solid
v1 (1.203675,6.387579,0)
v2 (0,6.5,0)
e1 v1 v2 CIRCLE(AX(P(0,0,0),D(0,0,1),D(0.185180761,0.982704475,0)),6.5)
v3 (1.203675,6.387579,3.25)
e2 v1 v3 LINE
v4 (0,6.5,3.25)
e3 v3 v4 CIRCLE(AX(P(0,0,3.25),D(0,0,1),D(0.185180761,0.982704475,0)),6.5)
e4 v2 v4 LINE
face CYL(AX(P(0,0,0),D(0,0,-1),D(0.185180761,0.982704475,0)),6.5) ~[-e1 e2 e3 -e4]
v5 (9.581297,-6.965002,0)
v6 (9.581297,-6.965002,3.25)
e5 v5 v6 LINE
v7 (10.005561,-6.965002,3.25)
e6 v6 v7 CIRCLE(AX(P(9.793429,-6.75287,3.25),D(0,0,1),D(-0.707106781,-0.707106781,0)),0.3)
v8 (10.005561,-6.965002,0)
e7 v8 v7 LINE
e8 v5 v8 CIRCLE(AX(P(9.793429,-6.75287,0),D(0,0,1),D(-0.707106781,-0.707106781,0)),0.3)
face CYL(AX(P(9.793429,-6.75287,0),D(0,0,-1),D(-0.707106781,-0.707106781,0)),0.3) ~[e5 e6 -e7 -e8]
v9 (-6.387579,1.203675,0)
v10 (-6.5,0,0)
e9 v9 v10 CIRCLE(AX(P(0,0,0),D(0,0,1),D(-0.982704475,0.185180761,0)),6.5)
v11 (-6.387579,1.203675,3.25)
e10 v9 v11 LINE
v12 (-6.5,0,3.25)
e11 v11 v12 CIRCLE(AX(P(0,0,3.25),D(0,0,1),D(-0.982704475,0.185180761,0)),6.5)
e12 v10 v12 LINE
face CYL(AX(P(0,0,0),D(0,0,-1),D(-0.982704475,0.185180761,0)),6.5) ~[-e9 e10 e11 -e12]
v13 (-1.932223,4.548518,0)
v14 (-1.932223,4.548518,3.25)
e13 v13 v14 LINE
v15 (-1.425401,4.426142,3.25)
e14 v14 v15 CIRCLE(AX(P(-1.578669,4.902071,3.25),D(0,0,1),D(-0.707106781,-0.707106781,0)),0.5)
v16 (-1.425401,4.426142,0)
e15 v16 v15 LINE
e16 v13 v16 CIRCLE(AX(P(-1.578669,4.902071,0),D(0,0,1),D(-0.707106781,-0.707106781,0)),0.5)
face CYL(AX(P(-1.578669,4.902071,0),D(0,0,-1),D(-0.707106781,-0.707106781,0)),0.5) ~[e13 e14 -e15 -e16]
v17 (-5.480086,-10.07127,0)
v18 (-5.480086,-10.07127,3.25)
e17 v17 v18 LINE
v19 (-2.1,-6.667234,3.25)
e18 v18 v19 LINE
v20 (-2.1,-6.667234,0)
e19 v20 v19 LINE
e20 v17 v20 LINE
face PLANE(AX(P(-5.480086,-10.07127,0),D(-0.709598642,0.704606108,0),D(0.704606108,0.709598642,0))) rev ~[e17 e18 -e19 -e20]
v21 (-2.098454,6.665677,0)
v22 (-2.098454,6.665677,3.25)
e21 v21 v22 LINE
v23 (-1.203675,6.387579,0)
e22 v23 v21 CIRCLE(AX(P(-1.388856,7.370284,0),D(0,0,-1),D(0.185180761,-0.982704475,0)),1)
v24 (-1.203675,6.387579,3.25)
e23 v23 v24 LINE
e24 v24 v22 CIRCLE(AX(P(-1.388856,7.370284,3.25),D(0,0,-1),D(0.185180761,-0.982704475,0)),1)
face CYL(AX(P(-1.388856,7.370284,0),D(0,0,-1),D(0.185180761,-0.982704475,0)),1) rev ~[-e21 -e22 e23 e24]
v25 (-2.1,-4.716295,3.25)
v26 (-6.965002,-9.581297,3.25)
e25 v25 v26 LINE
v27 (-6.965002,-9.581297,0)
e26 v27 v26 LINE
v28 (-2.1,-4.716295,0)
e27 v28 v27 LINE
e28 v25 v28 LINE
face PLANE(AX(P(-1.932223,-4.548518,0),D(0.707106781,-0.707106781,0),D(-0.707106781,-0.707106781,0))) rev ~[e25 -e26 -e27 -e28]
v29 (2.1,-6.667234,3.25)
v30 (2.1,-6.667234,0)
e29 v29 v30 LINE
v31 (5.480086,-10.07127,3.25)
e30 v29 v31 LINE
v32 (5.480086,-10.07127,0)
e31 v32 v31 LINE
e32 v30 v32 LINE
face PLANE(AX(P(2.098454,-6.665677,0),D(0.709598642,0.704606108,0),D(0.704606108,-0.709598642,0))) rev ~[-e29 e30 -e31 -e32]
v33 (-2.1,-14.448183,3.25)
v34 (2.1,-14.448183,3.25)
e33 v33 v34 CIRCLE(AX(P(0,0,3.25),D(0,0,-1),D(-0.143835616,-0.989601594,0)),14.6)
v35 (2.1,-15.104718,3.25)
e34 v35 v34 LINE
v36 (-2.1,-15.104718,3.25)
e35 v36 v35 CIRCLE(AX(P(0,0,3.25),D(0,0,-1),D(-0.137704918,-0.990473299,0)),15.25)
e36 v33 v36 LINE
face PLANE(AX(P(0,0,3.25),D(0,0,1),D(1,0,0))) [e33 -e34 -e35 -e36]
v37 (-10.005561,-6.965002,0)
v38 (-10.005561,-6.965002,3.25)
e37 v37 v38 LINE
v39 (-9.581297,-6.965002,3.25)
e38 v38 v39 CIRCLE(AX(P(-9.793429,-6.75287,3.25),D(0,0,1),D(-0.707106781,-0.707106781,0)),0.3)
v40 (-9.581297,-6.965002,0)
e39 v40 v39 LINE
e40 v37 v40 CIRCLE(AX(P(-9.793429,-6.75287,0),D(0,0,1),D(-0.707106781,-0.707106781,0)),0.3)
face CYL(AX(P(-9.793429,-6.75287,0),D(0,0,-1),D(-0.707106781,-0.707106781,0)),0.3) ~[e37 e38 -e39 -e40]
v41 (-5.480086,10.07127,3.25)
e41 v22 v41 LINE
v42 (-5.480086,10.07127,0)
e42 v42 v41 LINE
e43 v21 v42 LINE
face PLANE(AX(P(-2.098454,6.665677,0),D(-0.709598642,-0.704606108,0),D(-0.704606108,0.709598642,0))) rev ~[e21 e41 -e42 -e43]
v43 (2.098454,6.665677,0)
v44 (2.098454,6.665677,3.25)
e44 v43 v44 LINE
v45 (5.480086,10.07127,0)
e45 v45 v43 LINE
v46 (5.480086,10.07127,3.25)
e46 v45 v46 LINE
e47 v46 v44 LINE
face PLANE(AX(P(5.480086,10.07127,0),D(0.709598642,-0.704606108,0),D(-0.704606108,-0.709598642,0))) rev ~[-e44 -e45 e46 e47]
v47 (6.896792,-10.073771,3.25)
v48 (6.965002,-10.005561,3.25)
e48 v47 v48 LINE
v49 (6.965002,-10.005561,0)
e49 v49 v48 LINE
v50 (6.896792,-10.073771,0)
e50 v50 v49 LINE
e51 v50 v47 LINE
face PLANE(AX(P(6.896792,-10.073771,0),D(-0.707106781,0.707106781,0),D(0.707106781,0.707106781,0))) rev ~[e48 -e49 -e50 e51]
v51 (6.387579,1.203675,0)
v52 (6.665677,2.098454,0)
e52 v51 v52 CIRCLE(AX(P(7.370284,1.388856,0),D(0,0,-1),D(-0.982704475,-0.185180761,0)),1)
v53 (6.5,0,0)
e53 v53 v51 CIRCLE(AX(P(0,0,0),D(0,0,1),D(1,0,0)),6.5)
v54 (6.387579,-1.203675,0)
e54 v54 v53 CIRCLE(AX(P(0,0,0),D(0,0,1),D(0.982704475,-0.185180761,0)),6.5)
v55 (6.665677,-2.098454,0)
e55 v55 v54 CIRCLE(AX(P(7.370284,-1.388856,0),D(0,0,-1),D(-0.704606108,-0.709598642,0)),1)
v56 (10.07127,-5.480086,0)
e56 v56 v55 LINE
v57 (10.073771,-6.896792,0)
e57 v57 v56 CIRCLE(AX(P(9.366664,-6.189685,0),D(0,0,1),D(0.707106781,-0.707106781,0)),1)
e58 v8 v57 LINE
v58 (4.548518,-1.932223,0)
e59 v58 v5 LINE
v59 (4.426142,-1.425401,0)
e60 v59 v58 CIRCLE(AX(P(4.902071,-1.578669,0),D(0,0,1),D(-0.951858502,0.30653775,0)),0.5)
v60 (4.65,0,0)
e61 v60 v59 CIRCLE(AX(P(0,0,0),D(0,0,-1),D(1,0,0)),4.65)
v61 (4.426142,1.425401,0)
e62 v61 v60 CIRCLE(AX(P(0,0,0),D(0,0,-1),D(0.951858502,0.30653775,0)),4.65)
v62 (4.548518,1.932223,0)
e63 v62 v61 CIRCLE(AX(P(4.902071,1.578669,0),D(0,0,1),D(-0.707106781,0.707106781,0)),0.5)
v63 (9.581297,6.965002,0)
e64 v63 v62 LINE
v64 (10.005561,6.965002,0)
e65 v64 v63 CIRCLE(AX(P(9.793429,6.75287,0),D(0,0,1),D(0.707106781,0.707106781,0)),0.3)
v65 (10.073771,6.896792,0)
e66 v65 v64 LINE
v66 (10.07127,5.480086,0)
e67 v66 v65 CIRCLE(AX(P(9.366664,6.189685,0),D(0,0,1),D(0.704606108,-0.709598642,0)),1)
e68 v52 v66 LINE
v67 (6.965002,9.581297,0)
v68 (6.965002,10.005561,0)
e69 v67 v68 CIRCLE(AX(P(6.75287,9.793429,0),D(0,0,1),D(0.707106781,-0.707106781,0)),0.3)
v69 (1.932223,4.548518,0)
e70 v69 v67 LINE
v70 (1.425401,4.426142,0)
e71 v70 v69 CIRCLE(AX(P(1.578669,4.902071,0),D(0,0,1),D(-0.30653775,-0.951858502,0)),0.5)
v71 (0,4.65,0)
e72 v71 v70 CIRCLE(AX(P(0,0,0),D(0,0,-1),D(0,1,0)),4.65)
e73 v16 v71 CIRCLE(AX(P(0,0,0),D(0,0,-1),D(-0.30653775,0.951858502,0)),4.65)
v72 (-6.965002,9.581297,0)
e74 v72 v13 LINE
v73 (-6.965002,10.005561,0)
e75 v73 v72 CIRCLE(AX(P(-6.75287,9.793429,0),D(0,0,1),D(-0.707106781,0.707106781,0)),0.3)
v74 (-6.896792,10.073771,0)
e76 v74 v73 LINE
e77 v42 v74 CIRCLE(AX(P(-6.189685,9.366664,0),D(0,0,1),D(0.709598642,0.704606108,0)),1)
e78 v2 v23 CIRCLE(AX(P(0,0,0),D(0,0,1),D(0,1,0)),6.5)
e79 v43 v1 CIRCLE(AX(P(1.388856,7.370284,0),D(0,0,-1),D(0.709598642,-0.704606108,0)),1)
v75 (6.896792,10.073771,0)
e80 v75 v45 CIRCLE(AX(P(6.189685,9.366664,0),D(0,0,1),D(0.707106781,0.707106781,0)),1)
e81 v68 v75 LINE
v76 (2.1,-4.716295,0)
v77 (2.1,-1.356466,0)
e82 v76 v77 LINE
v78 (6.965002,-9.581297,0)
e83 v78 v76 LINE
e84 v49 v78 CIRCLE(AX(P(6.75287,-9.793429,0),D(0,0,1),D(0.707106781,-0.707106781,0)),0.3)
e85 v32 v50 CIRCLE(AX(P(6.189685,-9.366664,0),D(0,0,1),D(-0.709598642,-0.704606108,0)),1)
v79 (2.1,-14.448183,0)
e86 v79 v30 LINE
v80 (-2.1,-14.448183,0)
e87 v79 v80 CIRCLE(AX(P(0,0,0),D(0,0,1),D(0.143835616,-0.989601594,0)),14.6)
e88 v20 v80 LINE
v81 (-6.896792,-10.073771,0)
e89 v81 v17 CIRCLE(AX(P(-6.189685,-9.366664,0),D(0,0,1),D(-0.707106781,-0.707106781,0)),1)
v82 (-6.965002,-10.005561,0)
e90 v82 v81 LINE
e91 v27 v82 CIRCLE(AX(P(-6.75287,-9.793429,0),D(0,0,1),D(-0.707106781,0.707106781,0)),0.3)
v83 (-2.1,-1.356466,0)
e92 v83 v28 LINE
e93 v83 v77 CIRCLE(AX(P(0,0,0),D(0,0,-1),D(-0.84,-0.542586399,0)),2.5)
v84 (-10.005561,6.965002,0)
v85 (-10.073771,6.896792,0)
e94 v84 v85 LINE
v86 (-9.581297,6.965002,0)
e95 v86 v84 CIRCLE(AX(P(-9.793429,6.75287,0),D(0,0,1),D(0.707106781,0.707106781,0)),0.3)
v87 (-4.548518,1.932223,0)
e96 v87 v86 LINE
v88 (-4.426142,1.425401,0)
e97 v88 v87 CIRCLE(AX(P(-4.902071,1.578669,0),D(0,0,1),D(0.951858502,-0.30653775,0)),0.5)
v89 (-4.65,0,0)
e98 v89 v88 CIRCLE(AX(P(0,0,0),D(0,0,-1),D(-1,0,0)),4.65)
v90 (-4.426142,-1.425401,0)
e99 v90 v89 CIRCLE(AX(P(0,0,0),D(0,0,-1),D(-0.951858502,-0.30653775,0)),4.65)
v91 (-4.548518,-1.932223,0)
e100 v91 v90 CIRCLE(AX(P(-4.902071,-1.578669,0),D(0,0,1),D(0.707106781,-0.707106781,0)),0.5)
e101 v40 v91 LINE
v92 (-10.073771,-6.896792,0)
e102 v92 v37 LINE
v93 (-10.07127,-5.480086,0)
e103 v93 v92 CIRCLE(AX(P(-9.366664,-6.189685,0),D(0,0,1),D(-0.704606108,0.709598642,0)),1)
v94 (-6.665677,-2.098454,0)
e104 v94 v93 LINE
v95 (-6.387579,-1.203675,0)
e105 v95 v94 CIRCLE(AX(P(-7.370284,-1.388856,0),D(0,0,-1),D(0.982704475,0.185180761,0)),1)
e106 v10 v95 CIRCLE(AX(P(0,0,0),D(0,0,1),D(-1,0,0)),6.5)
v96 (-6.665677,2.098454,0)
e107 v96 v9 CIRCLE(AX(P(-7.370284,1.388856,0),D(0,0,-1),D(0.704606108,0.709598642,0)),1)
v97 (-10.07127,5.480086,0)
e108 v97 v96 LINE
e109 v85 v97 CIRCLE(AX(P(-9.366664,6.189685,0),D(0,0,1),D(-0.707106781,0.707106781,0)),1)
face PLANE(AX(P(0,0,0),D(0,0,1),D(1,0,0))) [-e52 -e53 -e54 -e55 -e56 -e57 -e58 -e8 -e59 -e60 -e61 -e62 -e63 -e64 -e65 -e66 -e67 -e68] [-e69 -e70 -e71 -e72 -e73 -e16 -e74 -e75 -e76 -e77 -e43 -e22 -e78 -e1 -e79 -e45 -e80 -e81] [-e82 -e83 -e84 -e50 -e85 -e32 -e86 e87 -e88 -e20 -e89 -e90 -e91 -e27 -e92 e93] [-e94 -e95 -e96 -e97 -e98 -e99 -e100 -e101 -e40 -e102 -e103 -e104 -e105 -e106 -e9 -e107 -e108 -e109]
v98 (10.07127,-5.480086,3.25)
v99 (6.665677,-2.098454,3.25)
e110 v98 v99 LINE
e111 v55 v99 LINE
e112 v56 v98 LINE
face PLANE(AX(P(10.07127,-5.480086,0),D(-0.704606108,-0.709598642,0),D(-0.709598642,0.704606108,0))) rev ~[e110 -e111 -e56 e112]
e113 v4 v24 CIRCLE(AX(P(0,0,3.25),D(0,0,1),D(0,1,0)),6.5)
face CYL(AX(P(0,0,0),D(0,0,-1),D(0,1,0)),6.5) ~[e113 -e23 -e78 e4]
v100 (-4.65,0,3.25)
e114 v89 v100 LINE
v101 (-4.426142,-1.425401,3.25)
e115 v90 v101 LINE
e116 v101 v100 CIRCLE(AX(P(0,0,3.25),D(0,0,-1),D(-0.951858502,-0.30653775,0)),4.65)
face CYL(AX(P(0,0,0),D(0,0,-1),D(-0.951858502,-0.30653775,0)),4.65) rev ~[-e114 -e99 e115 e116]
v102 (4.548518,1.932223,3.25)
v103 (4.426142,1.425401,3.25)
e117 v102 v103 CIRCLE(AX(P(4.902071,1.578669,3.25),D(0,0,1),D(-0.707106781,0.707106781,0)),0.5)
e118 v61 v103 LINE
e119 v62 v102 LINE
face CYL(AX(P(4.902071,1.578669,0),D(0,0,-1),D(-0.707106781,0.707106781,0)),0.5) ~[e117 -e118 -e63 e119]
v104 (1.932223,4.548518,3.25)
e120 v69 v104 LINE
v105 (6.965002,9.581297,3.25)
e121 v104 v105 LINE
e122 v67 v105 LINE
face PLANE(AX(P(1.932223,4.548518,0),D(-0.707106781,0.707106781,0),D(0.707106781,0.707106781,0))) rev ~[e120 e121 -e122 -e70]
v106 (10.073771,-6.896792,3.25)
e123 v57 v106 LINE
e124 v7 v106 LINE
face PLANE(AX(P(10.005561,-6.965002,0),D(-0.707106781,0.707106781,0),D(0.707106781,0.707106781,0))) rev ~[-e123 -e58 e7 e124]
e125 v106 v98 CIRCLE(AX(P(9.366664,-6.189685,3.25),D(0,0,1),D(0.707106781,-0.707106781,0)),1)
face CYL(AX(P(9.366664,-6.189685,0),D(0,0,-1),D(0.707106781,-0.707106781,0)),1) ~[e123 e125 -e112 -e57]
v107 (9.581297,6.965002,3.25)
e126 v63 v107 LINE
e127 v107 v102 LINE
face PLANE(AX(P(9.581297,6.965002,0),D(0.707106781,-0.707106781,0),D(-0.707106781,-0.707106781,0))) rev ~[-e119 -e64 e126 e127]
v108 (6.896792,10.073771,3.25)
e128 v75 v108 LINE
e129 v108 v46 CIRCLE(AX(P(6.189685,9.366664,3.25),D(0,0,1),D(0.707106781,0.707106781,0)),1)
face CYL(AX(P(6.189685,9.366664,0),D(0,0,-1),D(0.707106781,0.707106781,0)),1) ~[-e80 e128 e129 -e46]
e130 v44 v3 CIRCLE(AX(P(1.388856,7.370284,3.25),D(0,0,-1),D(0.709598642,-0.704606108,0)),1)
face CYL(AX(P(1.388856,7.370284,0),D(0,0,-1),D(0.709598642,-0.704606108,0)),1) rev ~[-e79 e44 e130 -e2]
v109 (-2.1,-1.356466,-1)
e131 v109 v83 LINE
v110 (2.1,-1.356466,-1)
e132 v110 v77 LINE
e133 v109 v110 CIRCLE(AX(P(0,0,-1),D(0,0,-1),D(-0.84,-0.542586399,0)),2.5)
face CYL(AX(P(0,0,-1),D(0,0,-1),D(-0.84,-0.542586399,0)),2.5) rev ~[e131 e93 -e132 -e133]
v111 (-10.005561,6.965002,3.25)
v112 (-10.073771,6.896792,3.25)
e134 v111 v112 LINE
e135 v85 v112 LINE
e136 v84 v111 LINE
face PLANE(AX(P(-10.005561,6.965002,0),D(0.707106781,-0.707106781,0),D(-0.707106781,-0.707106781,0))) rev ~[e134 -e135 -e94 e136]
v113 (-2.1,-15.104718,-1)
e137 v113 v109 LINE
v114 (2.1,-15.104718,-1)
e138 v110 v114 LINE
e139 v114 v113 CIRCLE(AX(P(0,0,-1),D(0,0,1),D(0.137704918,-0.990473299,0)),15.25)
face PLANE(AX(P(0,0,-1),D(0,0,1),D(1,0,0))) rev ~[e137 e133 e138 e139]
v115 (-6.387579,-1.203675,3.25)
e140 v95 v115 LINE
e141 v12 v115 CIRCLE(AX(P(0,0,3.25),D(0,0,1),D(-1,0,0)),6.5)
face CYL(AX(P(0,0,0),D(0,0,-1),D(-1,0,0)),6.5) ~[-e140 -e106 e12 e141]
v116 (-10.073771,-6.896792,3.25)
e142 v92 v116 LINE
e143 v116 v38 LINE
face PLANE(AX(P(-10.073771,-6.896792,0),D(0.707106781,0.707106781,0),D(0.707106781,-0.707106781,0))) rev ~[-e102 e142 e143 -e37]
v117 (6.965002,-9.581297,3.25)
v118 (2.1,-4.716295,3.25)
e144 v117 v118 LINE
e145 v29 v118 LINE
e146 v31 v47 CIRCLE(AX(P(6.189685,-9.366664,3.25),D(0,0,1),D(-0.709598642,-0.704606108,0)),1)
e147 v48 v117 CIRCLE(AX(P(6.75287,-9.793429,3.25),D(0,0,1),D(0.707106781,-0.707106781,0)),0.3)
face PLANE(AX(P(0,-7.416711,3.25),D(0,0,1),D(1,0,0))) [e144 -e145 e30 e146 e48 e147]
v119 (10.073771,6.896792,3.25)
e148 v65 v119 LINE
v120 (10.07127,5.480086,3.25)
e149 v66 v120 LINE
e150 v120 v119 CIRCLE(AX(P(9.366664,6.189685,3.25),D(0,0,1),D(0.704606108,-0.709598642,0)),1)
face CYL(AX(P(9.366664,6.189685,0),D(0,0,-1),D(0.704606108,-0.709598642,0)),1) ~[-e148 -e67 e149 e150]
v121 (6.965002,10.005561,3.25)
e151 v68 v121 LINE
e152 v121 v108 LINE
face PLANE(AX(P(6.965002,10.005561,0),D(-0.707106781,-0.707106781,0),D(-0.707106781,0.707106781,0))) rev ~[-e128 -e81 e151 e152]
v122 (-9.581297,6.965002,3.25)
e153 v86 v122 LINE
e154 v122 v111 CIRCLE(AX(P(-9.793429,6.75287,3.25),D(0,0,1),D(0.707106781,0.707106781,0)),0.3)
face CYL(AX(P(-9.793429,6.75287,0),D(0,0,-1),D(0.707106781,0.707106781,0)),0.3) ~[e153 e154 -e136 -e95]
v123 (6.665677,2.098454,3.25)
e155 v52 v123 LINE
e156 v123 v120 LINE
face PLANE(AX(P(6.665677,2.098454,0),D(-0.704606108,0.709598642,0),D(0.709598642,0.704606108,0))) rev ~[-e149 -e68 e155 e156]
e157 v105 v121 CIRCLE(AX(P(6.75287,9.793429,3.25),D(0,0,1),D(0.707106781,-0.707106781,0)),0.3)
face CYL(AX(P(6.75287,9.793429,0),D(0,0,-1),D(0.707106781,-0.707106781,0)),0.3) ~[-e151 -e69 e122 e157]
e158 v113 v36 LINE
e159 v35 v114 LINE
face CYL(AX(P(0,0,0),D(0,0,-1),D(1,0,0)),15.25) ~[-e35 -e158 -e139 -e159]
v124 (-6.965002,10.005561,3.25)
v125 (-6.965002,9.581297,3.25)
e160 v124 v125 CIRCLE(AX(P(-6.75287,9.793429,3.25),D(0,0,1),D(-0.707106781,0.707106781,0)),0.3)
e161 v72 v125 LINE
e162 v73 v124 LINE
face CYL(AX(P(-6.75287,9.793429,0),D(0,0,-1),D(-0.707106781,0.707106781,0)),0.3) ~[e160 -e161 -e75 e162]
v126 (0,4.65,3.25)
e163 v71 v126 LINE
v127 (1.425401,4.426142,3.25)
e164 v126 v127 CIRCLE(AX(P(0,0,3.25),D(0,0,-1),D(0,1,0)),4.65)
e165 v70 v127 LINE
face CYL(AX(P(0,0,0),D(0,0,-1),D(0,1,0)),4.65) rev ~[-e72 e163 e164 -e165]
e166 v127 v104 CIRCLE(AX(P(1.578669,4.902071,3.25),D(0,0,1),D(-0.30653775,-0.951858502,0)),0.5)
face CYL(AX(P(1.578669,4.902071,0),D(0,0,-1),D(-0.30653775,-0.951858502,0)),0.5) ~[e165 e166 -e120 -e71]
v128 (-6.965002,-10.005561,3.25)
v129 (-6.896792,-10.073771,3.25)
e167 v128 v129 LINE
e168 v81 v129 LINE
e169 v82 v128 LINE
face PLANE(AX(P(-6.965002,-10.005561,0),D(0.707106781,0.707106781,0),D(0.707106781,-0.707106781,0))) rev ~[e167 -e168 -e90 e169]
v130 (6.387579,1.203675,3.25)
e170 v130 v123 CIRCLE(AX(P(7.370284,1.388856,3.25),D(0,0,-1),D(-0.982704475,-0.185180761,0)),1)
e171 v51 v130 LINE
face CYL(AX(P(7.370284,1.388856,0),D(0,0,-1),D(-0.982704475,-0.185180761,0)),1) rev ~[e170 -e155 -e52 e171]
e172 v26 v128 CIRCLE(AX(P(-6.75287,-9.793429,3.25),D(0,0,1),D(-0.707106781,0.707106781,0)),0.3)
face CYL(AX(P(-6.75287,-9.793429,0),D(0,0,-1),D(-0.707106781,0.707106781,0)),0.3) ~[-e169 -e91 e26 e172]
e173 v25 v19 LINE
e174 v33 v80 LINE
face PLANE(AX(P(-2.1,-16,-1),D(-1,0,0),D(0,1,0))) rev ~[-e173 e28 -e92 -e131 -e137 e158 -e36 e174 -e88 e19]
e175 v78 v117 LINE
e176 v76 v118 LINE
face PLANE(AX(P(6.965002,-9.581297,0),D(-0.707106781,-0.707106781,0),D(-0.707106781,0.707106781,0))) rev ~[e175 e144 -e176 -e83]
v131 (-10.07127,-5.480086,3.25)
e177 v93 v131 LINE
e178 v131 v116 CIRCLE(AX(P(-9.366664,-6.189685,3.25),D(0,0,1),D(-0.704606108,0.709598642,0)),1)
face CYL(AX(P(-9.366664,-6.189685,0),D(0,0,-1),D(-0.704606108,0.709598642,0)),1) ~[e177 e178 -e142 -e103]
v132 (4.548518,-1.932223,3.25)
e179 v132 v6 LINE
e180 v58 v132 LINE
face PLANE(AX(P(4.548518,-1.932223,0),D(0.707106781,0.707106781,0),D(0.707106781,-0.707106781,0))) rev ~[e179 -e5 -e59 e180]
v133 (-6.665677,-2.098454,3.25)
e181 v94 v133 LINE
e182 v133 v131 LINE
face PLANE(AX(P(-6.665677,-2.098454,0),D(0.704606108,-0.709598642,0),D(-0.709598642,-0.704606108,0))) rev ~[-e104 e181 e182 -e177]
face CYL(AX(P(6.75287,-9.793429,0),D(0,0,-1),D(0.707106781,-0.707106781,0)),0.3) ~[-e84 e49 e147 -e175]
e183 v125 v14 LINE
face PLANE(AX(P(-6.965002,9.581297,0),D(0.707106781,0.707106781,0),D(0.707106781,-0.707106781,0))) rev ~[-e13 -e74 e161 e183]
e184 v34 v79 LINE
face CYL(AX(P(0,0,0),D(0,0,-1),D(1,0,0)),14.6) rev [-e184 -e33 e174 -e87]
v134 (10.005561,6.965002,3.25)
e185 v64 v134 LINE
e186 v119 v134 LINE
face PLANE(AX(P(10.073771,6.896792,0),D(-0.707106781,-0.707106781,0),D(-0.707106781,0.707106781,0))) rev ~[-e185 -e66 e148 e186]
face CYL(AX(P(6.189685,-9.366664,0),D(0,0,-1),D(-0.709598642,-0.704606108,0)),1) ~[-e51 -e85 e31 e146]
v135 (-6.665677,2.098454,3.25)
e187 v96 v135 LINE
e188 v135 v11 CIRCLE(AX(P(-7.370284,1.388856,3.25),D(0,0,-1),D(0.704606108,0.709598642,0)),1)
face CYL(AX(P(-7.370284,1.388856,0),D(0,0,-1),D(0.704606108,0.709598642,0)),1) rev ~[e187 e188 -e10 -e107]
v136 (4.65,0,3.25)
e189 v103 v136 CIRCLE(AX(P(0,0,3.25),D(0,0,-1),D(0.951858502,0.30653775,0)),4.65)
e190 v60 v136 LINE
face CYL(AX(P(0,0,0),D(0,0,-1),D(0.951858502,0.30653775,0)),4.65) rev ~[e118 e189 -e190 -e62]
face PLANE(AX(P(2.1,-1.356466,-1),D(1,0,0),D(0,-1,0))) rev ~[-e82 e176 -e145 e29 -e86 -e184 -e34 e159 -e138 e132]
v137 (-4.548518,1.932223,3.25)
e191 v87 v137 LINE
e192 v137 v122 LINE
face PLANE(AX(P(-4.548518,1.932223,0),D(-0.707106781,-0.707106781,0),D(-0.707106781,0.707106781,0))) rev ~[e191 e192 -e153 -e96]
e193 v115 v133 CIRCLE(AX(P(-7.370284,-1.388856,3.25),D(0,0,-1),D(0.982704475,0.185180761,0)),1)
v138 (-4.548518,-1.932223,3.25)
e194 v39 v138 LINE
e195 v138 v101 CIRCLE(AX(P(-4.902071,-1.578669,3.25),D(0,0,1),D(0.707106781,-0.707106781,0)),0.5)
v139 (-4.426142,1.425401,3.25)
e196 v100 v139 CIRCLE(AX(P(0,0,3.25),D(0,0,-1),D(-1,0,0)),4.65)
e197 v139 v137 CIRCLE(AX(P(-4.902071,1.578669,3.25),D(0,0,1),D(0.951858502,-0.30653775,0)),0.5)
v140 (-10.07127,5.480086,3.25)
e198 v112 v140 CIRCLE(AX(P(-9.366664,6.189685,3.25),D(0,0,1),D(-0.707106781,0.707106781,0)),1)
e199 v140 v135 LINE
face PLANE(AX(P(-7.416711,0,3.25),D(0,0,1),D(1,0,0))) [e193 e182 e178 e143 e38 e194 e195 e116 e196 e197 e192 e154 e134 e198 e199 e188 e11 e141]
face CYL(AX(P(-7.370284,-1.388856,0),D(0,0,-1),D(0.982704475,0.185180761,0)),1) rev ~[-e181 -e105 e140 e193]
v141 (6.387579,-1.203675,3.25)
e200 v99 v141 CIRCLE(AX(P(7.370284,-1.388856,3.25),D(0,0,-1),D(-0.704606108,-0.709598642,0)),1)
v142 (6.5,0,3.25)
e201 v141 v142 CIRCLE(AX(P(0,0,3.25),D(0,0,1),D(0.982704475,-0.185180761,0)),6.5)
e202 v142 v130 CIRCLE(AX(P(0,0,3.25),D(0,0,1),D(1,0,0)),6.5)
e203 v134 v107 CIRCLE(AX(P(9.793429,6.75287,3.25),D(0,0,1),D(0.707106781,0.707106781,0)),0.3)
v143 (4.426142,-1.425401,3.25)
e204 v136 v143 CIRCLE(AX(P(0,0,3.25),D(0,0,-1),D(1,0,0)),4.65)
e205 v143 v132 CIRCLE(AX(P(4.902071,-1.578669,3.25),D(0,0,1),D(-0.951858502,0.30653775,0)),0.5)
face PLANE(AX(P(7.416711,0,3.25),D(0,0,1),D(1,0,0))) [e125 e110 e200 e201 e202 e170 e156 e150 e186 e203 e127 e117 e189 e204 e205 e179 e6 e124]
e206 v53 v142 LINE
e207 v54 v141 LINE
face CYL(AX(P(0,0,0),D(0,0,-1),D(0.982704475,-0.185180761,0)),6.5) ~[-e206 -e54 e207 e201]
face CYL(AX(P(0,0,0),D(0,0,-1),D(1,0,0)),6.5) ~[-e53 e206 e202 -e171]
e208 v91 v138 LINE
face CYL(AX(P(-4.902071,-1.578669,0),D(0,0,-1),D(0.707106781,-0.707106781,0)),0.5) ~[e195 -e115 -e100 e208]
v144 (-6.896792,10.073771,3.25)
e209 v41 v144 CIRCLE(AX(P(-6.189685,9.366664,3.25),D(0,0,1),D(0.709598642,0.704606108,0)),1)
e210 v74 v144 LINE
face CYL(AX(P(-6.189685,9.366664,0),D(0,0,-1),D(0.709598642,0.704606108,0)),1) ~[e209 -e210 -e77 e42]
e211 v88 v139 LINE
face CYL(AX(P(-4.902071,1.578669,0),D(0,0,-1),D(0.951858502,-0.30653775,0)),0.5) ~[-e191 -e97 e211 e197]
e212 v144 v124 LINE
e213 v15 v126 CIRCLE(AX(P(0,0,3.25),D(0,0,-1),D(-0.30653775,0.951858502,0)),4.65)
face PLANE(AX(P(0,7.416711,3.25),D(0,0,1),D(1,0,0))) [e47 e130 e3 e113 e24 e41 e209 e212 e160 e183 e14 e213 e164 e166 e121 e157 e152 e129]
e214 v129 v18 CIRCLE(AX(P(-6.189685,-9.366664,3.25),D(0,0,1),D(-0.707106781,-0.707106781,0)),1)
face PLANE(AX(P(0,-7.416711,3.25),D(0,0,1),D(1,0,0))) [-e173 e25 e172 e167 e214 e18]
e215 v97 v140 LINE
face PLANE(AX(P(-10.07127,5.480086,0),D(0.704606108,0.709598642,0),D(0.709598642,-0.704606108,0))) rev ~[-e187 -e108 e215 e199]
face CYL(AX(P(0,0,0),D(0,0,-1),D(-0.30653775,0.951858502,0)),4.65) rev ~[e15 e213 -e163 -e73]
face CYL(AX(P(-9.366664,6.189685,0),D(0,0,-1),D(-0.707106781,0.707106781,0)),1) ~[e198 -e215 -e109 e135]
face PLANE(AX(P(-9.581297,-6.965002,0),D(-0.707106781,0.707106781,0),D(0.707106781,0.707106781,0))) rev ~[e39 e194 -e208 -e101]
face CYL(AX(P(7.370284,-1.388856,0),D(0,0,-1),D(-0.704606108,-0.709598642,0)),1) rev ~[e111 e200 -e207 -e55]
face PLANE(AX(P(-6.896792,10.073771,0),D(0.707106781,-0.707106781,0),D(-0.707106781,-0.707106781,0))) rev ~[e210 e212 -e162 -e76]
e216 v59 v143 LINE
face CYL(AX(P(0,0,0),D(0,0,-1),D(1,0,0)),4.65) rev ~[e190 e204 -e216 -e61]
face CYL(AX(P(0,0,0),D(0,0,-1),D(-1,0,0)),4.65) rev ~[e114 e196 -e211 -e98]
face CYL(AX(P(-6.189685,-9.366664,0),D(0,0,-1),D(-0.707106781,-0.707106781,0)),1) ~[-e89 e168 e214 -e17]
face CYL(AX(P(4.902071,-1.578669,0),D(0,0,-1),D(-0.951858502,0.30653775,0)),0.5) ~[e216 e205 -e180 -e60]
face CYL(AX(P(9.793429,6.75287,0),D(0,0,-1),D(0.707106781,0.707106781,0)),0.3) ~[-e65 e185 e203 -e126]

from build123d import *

# Parameters (mm, degrees)
F0_R     = 15.25
F1_DEPTH = 1
F2_R     = 15.25
F2_R_2   = 14.6
F3_DEPTH = 3.25
F5_DEPTH = 4.251


with BuildPart() as f1:
    # F0 (on Top) → F1 (new body)
    with BuildSketch(Plane.XY):
        Circle(F0_R)
    extrude(amount=-F1_DEPTH)

    # F2 (on Top) → F3 (join)
    with BuildSketch(Plane.XY):
        Circle(F2_R)
        Circle(F2_R_2, mode=Mode.SUBTRACT)
        with BuildLine():
            ThreePointArc((1.4254005383, 4.426142034), (1.6960254298, 4.4160388114), (1.932222804, 4.5485178944))
            Line((1.932222804, 4.5485178944), (6.9650017947, 9.5812968851))
            ThreePointArc((6.9650017947, 9.5812968851), (7.0528697603, 9.7934289194), (6.9650017947, 10.0055609538))
            Line((6.9650017947, 10.0055609538), (6.8967918056, 10.0737709429))
            ThreePointArc((6.8967918056, 10.0737709429), (6.1879198942, 10.3666626039), (5.4800863823, 10.0712702695))
            Line((5.4800863823, 10.0712702695), (2.0984543523, 6.6656774564))
            ThreePointArc((2.0984543523, 6.6656774564), (1.6856522801, 6.4153428351), (1.2036749488, 6.3875790889))
            ThreePointArc((1.2036749488, 6.3875790889), (0.6044567486, 6.4718337462), (0, 6.5))
            ThreePointArc((0, 6.5), (-0.6044567486, 6.4718337462), (-1.2036749488, 6.3875790889))
            ThreePointArc((-1.2036749488, 6.3875790889), (-1.6856522801, 6.4153428351), (-2.0984543523, 6.6656774564))
            Line((-2.0984543523, 6.6656774564), (-5.4800863823, 10.0712702695))
            ThreePointArc((-5.4800863823, 10.0712702695), (-6.1879198942, 10.3666626039), (-6.8967918056, 10.0737709429))
            Line((-6.8967918056, 10.0737709429), (-6.9650017947, 10.0055609538))
            ThreePointArc((-6.9650017947, 10.0055609538), (-7.0528697603, 9.7934289194), (-6.9650017947, 9.5812968851))
            Line((-6.9650017947, 9.5812968851), (-1.932222804, 4.5485178944))
            ThreePointArc((-1.932222804, 4.5485178944), (-1.6960254298, 4.4160388114), (-1.4254005383, 4.426142034))
            ThreePointArc((-1.4254005383, 4.426142034), (-0.7214359091, 4.5936946164), (0, 4.65))
            ThreePointArc((0, 4.65), (0.7214359091, 4.5936946164), (1.4254005383, 4.426142034))
        make_face()
        with BuildLine():
            Line((10.0737709429, 6.8967918056), (10.0055609538, 6.9650017947))
            ThreePointArc((10.0055609538, 6.9650017947), (9.7934289194, 7.0528697603), (9.5812968851, 6.9650017947))
            Line((9.5812968851, 6.9650017947), (4.5485178944, 1.932222804))
            ThreePointArc((4.5485178944, 1.932222804), (4.4160388114, 1.6960254298), (4.426142034, 1.4254005383))
            ThreePointArc((4.426142034, 1.4254005383), (4.5936946164, 0.7214359091), (4.65, 0))
            ThreePointArc((4.65, 0), (4.5936946164, -0.7214359091), (4.426142034, -1.4254005383))
            ThreePointArc((4.426142034, -1.4254005383), (4.4160388114, -1.6960254298), (4.5485178944, -1.932222804))
            Line((4.5485178944, -1.932222804), (9.5812968851, -6.9650017947))
            ThreePointArc((9.5812968851, -6.9650017947), (9.7934289194, -7.0528697603), (10.0055609538, -6.9650017947))
            Line((10.0055609538, -6.9650017947), (10.0737709429, -6.8967918056))
            ThreePointArc((10.0737709429, -6.8967918056), (10.3666626039, -6.1879198942), (10.0712702695, -5.4800863823))
            Line((10.0712702695, -5.4800863823), (6.6656774564, -2.0984543523))
            ThreePointArc((6.6656774564, -2.0984543523), (6.4153428351, -1.6856522801), (6.3875790889, -1.2036749488))
            ThreePointArc((6.3875790889, -1.2036749488), (6.4718337462, -0.6044567486), (6.5, 0))
            ThreePointArc((6.5, 0), (6.4718337462, 0.6044567486), (6.3875790889, 1.2036749488))
            ThreePointArc((6.3875790889, 1.2036749488), (6.4153428351, 1.6856522801), (6.6656774564, 2.0984543523))
            Line((6.6656774564, 2.0984543523), (10.0712702695, 5.4800863823))
            ThreePointArc((10.0712702695, 5.4800863823), (10.3666626039, 6.1879198942), (10.0737709429, 6.8967918056))
        make_face()
        with BuildLine():
            ThreePointArc((-9.5812968851, 6.9650017947), (-9.7934289194, 7.0528697603), (-10.0055609538, 6.9650017947))
            Line((-10.0055609538, 6.9650017947), (-10.0737709429, 6.8967918056))
            ThreePointArc((-10.0737709429, 6.8967918056), (-10.3666626039, 6.1879198942), (-10.0712702695, 5.4800863823))
            Line((-10.0712702695, 5.4800863823), (-6.6656774564, 2.0984543523))
            ThreePointArc((-6.6656774564, 2.0984543523), (-6.4153428351, 1.6856522801), (-6.3875790889, 1.2036749488))
            ThreePointArc((-6.3875790889, 1.2036749488), (-6.4718337462, 0.6044567486), (-6.5, 0))
            ThreePointArc((-6.5, 0), (-6.4718337462, -0.6044567486), (-6.3875790889, -1.2036749488))
            ThreePointArc((-6.3875790889, -1.2036749488), (-6.4153428351, -1.6856522801), (-6.6656774564, -2.0984543523))
            Line((-6.6656774564, -2.0984543523), (-10.0712702695, -5.4800863823))
            ThreePointArc((-10.0712702695, -5.4800863823), (-10.3666626039, -6.1879198942), (-10.0737709429, -6.8967918056))
            Line((-10.0737709429, -6.8967918056), (-10.0055609538, -6.9650017947))
            ThreePointArc((-10.0055609538, -6.9650017947), (-9.7934289194, -7.0528697603), (-9.5812968851, -6.9650017947))
            Line((-9.5812968851, -6.9650017947), (-4.5485178944, -1.932222804))
            ThreePointArc((-4.5485178944, -1.932222804), (-4.4160388114, -1.6960254298), (-4.426142034, -1.4254005383))
            ThreePointArc((-4.426142034, -1.4254005383), (-4.5936946164, -0.7214359091), (-4.65, 0))
            ThreePointArc((-4.65, 0), (-4.5936946164, 0.7214359091), (-4.426142034, 1.4254005383))
            ThreePointArc((-4.426142034, 1.4254005383), (-4.4160388114, 1.6960254298), (-4.5485178944, 1.932222804))
            Line((-4.5485178944, 1.932222804), (-9.5812968851, 6.9650017947))
        make_face()
        with BuildLine():
            ThreePointArc((-6.9650017947, -9.5812968851), (-7.0528697603, -9.7934289194), (-6.9650017947, -10.0055609538))
            Line((-6.9650017947, -10.0055609538), (-6.8967918056, -10.0737709429))
            ThreePointArc((-6.8967918056, -10.0737709429), (-6.1879198942, -10.3666626039), (-5.4800863823, -10.0712702695))
            Line((-5.4800863823, -10.0712702695), (-2.0984543523, -6.6656774564))
            ThreePointArc((-2.0984543523, -6.6656774564), (-1.6856522801, -6.4153428351), (-1.2036749488, -6.3875790889))
            ThreePointArc((-1.2036749488, -6.3875790889), (-0.6044567486, -6.4718337462), (0, -6.5))
            ThreePointArc((0, -6.5), (0.6044567486, -6.4718337462), (1.2036749488, -6.3875790889))
            ThreePointArc((1.2036749488, -6.3875790889), (1.6856522801, -6.4153428351), (2.0984543523, -6.6656774564))
            Line((2.0984543523, -6.6656774564), (5.4800863823, -10.0712702695))
            ThreePointArc((5.4800863823, -10.0712702695), (6.1879198942, -10.3666626039), (6.8967918056, -10.0737709429))
            Line((6.8967918056, -10.0737709429), (6.9650017947, -10.0055609538))
            ThreePointArc((6.9650017947, -10.0055609538), (7.0528697603, -9.7934289194), (6.9650017947, -9.5812968851))
            Line((6.9650017947, -9.5812968851), (1.932222804, -4.5485178944))
            ThreePointArc((1.932222804, -4.5485178944), (1.6960254298, -4.4160388114), (1.4254005383, -4.426142034))
            ThreePointArc((1.4254005383, -4.426142034), (0.7214359091, -4.5936946164), (0, -4.65))
            ThreePointArc((0, -4.65), (-0.7214359091, -4.5936946164), (-1.4254005383, -4.426142034))
            ThreePointArc((-1.4254005383, -4.426142034), (-1.6960254298, -4.4160388114), (-1.932222804, -4.5485178944))
            Line((-1.932222804, -4.5485178944), (-6.9650017947, -9.5812968851))
        make_face()
    extrude(amount=F3_DEPTH)

    # F4 (on face) → F5 (cut, through all)
    with BuildSketch(Plane(origin=(0, 0, -1), x_dir=(1, 0, 0), z_dir=(0, 0, -1))):
        with BuildLine():
            Line((-2.1, 16), (-2.1, 1.3564659966))
            ThreePointArc((-2.1, 1.3564659966), (0, -2.5), (2.1, 1.3564659966))
            Line((2.1, 1.3564659966), (2.1, 16))
            Line((2.1, 16), (0, 16))
            Line((0, 16), (-2.1, 16))
        make_face()
    extrude(amount=-F5_DEPTH, mode=Mode.SUBTRACT)


solid = f1.part
